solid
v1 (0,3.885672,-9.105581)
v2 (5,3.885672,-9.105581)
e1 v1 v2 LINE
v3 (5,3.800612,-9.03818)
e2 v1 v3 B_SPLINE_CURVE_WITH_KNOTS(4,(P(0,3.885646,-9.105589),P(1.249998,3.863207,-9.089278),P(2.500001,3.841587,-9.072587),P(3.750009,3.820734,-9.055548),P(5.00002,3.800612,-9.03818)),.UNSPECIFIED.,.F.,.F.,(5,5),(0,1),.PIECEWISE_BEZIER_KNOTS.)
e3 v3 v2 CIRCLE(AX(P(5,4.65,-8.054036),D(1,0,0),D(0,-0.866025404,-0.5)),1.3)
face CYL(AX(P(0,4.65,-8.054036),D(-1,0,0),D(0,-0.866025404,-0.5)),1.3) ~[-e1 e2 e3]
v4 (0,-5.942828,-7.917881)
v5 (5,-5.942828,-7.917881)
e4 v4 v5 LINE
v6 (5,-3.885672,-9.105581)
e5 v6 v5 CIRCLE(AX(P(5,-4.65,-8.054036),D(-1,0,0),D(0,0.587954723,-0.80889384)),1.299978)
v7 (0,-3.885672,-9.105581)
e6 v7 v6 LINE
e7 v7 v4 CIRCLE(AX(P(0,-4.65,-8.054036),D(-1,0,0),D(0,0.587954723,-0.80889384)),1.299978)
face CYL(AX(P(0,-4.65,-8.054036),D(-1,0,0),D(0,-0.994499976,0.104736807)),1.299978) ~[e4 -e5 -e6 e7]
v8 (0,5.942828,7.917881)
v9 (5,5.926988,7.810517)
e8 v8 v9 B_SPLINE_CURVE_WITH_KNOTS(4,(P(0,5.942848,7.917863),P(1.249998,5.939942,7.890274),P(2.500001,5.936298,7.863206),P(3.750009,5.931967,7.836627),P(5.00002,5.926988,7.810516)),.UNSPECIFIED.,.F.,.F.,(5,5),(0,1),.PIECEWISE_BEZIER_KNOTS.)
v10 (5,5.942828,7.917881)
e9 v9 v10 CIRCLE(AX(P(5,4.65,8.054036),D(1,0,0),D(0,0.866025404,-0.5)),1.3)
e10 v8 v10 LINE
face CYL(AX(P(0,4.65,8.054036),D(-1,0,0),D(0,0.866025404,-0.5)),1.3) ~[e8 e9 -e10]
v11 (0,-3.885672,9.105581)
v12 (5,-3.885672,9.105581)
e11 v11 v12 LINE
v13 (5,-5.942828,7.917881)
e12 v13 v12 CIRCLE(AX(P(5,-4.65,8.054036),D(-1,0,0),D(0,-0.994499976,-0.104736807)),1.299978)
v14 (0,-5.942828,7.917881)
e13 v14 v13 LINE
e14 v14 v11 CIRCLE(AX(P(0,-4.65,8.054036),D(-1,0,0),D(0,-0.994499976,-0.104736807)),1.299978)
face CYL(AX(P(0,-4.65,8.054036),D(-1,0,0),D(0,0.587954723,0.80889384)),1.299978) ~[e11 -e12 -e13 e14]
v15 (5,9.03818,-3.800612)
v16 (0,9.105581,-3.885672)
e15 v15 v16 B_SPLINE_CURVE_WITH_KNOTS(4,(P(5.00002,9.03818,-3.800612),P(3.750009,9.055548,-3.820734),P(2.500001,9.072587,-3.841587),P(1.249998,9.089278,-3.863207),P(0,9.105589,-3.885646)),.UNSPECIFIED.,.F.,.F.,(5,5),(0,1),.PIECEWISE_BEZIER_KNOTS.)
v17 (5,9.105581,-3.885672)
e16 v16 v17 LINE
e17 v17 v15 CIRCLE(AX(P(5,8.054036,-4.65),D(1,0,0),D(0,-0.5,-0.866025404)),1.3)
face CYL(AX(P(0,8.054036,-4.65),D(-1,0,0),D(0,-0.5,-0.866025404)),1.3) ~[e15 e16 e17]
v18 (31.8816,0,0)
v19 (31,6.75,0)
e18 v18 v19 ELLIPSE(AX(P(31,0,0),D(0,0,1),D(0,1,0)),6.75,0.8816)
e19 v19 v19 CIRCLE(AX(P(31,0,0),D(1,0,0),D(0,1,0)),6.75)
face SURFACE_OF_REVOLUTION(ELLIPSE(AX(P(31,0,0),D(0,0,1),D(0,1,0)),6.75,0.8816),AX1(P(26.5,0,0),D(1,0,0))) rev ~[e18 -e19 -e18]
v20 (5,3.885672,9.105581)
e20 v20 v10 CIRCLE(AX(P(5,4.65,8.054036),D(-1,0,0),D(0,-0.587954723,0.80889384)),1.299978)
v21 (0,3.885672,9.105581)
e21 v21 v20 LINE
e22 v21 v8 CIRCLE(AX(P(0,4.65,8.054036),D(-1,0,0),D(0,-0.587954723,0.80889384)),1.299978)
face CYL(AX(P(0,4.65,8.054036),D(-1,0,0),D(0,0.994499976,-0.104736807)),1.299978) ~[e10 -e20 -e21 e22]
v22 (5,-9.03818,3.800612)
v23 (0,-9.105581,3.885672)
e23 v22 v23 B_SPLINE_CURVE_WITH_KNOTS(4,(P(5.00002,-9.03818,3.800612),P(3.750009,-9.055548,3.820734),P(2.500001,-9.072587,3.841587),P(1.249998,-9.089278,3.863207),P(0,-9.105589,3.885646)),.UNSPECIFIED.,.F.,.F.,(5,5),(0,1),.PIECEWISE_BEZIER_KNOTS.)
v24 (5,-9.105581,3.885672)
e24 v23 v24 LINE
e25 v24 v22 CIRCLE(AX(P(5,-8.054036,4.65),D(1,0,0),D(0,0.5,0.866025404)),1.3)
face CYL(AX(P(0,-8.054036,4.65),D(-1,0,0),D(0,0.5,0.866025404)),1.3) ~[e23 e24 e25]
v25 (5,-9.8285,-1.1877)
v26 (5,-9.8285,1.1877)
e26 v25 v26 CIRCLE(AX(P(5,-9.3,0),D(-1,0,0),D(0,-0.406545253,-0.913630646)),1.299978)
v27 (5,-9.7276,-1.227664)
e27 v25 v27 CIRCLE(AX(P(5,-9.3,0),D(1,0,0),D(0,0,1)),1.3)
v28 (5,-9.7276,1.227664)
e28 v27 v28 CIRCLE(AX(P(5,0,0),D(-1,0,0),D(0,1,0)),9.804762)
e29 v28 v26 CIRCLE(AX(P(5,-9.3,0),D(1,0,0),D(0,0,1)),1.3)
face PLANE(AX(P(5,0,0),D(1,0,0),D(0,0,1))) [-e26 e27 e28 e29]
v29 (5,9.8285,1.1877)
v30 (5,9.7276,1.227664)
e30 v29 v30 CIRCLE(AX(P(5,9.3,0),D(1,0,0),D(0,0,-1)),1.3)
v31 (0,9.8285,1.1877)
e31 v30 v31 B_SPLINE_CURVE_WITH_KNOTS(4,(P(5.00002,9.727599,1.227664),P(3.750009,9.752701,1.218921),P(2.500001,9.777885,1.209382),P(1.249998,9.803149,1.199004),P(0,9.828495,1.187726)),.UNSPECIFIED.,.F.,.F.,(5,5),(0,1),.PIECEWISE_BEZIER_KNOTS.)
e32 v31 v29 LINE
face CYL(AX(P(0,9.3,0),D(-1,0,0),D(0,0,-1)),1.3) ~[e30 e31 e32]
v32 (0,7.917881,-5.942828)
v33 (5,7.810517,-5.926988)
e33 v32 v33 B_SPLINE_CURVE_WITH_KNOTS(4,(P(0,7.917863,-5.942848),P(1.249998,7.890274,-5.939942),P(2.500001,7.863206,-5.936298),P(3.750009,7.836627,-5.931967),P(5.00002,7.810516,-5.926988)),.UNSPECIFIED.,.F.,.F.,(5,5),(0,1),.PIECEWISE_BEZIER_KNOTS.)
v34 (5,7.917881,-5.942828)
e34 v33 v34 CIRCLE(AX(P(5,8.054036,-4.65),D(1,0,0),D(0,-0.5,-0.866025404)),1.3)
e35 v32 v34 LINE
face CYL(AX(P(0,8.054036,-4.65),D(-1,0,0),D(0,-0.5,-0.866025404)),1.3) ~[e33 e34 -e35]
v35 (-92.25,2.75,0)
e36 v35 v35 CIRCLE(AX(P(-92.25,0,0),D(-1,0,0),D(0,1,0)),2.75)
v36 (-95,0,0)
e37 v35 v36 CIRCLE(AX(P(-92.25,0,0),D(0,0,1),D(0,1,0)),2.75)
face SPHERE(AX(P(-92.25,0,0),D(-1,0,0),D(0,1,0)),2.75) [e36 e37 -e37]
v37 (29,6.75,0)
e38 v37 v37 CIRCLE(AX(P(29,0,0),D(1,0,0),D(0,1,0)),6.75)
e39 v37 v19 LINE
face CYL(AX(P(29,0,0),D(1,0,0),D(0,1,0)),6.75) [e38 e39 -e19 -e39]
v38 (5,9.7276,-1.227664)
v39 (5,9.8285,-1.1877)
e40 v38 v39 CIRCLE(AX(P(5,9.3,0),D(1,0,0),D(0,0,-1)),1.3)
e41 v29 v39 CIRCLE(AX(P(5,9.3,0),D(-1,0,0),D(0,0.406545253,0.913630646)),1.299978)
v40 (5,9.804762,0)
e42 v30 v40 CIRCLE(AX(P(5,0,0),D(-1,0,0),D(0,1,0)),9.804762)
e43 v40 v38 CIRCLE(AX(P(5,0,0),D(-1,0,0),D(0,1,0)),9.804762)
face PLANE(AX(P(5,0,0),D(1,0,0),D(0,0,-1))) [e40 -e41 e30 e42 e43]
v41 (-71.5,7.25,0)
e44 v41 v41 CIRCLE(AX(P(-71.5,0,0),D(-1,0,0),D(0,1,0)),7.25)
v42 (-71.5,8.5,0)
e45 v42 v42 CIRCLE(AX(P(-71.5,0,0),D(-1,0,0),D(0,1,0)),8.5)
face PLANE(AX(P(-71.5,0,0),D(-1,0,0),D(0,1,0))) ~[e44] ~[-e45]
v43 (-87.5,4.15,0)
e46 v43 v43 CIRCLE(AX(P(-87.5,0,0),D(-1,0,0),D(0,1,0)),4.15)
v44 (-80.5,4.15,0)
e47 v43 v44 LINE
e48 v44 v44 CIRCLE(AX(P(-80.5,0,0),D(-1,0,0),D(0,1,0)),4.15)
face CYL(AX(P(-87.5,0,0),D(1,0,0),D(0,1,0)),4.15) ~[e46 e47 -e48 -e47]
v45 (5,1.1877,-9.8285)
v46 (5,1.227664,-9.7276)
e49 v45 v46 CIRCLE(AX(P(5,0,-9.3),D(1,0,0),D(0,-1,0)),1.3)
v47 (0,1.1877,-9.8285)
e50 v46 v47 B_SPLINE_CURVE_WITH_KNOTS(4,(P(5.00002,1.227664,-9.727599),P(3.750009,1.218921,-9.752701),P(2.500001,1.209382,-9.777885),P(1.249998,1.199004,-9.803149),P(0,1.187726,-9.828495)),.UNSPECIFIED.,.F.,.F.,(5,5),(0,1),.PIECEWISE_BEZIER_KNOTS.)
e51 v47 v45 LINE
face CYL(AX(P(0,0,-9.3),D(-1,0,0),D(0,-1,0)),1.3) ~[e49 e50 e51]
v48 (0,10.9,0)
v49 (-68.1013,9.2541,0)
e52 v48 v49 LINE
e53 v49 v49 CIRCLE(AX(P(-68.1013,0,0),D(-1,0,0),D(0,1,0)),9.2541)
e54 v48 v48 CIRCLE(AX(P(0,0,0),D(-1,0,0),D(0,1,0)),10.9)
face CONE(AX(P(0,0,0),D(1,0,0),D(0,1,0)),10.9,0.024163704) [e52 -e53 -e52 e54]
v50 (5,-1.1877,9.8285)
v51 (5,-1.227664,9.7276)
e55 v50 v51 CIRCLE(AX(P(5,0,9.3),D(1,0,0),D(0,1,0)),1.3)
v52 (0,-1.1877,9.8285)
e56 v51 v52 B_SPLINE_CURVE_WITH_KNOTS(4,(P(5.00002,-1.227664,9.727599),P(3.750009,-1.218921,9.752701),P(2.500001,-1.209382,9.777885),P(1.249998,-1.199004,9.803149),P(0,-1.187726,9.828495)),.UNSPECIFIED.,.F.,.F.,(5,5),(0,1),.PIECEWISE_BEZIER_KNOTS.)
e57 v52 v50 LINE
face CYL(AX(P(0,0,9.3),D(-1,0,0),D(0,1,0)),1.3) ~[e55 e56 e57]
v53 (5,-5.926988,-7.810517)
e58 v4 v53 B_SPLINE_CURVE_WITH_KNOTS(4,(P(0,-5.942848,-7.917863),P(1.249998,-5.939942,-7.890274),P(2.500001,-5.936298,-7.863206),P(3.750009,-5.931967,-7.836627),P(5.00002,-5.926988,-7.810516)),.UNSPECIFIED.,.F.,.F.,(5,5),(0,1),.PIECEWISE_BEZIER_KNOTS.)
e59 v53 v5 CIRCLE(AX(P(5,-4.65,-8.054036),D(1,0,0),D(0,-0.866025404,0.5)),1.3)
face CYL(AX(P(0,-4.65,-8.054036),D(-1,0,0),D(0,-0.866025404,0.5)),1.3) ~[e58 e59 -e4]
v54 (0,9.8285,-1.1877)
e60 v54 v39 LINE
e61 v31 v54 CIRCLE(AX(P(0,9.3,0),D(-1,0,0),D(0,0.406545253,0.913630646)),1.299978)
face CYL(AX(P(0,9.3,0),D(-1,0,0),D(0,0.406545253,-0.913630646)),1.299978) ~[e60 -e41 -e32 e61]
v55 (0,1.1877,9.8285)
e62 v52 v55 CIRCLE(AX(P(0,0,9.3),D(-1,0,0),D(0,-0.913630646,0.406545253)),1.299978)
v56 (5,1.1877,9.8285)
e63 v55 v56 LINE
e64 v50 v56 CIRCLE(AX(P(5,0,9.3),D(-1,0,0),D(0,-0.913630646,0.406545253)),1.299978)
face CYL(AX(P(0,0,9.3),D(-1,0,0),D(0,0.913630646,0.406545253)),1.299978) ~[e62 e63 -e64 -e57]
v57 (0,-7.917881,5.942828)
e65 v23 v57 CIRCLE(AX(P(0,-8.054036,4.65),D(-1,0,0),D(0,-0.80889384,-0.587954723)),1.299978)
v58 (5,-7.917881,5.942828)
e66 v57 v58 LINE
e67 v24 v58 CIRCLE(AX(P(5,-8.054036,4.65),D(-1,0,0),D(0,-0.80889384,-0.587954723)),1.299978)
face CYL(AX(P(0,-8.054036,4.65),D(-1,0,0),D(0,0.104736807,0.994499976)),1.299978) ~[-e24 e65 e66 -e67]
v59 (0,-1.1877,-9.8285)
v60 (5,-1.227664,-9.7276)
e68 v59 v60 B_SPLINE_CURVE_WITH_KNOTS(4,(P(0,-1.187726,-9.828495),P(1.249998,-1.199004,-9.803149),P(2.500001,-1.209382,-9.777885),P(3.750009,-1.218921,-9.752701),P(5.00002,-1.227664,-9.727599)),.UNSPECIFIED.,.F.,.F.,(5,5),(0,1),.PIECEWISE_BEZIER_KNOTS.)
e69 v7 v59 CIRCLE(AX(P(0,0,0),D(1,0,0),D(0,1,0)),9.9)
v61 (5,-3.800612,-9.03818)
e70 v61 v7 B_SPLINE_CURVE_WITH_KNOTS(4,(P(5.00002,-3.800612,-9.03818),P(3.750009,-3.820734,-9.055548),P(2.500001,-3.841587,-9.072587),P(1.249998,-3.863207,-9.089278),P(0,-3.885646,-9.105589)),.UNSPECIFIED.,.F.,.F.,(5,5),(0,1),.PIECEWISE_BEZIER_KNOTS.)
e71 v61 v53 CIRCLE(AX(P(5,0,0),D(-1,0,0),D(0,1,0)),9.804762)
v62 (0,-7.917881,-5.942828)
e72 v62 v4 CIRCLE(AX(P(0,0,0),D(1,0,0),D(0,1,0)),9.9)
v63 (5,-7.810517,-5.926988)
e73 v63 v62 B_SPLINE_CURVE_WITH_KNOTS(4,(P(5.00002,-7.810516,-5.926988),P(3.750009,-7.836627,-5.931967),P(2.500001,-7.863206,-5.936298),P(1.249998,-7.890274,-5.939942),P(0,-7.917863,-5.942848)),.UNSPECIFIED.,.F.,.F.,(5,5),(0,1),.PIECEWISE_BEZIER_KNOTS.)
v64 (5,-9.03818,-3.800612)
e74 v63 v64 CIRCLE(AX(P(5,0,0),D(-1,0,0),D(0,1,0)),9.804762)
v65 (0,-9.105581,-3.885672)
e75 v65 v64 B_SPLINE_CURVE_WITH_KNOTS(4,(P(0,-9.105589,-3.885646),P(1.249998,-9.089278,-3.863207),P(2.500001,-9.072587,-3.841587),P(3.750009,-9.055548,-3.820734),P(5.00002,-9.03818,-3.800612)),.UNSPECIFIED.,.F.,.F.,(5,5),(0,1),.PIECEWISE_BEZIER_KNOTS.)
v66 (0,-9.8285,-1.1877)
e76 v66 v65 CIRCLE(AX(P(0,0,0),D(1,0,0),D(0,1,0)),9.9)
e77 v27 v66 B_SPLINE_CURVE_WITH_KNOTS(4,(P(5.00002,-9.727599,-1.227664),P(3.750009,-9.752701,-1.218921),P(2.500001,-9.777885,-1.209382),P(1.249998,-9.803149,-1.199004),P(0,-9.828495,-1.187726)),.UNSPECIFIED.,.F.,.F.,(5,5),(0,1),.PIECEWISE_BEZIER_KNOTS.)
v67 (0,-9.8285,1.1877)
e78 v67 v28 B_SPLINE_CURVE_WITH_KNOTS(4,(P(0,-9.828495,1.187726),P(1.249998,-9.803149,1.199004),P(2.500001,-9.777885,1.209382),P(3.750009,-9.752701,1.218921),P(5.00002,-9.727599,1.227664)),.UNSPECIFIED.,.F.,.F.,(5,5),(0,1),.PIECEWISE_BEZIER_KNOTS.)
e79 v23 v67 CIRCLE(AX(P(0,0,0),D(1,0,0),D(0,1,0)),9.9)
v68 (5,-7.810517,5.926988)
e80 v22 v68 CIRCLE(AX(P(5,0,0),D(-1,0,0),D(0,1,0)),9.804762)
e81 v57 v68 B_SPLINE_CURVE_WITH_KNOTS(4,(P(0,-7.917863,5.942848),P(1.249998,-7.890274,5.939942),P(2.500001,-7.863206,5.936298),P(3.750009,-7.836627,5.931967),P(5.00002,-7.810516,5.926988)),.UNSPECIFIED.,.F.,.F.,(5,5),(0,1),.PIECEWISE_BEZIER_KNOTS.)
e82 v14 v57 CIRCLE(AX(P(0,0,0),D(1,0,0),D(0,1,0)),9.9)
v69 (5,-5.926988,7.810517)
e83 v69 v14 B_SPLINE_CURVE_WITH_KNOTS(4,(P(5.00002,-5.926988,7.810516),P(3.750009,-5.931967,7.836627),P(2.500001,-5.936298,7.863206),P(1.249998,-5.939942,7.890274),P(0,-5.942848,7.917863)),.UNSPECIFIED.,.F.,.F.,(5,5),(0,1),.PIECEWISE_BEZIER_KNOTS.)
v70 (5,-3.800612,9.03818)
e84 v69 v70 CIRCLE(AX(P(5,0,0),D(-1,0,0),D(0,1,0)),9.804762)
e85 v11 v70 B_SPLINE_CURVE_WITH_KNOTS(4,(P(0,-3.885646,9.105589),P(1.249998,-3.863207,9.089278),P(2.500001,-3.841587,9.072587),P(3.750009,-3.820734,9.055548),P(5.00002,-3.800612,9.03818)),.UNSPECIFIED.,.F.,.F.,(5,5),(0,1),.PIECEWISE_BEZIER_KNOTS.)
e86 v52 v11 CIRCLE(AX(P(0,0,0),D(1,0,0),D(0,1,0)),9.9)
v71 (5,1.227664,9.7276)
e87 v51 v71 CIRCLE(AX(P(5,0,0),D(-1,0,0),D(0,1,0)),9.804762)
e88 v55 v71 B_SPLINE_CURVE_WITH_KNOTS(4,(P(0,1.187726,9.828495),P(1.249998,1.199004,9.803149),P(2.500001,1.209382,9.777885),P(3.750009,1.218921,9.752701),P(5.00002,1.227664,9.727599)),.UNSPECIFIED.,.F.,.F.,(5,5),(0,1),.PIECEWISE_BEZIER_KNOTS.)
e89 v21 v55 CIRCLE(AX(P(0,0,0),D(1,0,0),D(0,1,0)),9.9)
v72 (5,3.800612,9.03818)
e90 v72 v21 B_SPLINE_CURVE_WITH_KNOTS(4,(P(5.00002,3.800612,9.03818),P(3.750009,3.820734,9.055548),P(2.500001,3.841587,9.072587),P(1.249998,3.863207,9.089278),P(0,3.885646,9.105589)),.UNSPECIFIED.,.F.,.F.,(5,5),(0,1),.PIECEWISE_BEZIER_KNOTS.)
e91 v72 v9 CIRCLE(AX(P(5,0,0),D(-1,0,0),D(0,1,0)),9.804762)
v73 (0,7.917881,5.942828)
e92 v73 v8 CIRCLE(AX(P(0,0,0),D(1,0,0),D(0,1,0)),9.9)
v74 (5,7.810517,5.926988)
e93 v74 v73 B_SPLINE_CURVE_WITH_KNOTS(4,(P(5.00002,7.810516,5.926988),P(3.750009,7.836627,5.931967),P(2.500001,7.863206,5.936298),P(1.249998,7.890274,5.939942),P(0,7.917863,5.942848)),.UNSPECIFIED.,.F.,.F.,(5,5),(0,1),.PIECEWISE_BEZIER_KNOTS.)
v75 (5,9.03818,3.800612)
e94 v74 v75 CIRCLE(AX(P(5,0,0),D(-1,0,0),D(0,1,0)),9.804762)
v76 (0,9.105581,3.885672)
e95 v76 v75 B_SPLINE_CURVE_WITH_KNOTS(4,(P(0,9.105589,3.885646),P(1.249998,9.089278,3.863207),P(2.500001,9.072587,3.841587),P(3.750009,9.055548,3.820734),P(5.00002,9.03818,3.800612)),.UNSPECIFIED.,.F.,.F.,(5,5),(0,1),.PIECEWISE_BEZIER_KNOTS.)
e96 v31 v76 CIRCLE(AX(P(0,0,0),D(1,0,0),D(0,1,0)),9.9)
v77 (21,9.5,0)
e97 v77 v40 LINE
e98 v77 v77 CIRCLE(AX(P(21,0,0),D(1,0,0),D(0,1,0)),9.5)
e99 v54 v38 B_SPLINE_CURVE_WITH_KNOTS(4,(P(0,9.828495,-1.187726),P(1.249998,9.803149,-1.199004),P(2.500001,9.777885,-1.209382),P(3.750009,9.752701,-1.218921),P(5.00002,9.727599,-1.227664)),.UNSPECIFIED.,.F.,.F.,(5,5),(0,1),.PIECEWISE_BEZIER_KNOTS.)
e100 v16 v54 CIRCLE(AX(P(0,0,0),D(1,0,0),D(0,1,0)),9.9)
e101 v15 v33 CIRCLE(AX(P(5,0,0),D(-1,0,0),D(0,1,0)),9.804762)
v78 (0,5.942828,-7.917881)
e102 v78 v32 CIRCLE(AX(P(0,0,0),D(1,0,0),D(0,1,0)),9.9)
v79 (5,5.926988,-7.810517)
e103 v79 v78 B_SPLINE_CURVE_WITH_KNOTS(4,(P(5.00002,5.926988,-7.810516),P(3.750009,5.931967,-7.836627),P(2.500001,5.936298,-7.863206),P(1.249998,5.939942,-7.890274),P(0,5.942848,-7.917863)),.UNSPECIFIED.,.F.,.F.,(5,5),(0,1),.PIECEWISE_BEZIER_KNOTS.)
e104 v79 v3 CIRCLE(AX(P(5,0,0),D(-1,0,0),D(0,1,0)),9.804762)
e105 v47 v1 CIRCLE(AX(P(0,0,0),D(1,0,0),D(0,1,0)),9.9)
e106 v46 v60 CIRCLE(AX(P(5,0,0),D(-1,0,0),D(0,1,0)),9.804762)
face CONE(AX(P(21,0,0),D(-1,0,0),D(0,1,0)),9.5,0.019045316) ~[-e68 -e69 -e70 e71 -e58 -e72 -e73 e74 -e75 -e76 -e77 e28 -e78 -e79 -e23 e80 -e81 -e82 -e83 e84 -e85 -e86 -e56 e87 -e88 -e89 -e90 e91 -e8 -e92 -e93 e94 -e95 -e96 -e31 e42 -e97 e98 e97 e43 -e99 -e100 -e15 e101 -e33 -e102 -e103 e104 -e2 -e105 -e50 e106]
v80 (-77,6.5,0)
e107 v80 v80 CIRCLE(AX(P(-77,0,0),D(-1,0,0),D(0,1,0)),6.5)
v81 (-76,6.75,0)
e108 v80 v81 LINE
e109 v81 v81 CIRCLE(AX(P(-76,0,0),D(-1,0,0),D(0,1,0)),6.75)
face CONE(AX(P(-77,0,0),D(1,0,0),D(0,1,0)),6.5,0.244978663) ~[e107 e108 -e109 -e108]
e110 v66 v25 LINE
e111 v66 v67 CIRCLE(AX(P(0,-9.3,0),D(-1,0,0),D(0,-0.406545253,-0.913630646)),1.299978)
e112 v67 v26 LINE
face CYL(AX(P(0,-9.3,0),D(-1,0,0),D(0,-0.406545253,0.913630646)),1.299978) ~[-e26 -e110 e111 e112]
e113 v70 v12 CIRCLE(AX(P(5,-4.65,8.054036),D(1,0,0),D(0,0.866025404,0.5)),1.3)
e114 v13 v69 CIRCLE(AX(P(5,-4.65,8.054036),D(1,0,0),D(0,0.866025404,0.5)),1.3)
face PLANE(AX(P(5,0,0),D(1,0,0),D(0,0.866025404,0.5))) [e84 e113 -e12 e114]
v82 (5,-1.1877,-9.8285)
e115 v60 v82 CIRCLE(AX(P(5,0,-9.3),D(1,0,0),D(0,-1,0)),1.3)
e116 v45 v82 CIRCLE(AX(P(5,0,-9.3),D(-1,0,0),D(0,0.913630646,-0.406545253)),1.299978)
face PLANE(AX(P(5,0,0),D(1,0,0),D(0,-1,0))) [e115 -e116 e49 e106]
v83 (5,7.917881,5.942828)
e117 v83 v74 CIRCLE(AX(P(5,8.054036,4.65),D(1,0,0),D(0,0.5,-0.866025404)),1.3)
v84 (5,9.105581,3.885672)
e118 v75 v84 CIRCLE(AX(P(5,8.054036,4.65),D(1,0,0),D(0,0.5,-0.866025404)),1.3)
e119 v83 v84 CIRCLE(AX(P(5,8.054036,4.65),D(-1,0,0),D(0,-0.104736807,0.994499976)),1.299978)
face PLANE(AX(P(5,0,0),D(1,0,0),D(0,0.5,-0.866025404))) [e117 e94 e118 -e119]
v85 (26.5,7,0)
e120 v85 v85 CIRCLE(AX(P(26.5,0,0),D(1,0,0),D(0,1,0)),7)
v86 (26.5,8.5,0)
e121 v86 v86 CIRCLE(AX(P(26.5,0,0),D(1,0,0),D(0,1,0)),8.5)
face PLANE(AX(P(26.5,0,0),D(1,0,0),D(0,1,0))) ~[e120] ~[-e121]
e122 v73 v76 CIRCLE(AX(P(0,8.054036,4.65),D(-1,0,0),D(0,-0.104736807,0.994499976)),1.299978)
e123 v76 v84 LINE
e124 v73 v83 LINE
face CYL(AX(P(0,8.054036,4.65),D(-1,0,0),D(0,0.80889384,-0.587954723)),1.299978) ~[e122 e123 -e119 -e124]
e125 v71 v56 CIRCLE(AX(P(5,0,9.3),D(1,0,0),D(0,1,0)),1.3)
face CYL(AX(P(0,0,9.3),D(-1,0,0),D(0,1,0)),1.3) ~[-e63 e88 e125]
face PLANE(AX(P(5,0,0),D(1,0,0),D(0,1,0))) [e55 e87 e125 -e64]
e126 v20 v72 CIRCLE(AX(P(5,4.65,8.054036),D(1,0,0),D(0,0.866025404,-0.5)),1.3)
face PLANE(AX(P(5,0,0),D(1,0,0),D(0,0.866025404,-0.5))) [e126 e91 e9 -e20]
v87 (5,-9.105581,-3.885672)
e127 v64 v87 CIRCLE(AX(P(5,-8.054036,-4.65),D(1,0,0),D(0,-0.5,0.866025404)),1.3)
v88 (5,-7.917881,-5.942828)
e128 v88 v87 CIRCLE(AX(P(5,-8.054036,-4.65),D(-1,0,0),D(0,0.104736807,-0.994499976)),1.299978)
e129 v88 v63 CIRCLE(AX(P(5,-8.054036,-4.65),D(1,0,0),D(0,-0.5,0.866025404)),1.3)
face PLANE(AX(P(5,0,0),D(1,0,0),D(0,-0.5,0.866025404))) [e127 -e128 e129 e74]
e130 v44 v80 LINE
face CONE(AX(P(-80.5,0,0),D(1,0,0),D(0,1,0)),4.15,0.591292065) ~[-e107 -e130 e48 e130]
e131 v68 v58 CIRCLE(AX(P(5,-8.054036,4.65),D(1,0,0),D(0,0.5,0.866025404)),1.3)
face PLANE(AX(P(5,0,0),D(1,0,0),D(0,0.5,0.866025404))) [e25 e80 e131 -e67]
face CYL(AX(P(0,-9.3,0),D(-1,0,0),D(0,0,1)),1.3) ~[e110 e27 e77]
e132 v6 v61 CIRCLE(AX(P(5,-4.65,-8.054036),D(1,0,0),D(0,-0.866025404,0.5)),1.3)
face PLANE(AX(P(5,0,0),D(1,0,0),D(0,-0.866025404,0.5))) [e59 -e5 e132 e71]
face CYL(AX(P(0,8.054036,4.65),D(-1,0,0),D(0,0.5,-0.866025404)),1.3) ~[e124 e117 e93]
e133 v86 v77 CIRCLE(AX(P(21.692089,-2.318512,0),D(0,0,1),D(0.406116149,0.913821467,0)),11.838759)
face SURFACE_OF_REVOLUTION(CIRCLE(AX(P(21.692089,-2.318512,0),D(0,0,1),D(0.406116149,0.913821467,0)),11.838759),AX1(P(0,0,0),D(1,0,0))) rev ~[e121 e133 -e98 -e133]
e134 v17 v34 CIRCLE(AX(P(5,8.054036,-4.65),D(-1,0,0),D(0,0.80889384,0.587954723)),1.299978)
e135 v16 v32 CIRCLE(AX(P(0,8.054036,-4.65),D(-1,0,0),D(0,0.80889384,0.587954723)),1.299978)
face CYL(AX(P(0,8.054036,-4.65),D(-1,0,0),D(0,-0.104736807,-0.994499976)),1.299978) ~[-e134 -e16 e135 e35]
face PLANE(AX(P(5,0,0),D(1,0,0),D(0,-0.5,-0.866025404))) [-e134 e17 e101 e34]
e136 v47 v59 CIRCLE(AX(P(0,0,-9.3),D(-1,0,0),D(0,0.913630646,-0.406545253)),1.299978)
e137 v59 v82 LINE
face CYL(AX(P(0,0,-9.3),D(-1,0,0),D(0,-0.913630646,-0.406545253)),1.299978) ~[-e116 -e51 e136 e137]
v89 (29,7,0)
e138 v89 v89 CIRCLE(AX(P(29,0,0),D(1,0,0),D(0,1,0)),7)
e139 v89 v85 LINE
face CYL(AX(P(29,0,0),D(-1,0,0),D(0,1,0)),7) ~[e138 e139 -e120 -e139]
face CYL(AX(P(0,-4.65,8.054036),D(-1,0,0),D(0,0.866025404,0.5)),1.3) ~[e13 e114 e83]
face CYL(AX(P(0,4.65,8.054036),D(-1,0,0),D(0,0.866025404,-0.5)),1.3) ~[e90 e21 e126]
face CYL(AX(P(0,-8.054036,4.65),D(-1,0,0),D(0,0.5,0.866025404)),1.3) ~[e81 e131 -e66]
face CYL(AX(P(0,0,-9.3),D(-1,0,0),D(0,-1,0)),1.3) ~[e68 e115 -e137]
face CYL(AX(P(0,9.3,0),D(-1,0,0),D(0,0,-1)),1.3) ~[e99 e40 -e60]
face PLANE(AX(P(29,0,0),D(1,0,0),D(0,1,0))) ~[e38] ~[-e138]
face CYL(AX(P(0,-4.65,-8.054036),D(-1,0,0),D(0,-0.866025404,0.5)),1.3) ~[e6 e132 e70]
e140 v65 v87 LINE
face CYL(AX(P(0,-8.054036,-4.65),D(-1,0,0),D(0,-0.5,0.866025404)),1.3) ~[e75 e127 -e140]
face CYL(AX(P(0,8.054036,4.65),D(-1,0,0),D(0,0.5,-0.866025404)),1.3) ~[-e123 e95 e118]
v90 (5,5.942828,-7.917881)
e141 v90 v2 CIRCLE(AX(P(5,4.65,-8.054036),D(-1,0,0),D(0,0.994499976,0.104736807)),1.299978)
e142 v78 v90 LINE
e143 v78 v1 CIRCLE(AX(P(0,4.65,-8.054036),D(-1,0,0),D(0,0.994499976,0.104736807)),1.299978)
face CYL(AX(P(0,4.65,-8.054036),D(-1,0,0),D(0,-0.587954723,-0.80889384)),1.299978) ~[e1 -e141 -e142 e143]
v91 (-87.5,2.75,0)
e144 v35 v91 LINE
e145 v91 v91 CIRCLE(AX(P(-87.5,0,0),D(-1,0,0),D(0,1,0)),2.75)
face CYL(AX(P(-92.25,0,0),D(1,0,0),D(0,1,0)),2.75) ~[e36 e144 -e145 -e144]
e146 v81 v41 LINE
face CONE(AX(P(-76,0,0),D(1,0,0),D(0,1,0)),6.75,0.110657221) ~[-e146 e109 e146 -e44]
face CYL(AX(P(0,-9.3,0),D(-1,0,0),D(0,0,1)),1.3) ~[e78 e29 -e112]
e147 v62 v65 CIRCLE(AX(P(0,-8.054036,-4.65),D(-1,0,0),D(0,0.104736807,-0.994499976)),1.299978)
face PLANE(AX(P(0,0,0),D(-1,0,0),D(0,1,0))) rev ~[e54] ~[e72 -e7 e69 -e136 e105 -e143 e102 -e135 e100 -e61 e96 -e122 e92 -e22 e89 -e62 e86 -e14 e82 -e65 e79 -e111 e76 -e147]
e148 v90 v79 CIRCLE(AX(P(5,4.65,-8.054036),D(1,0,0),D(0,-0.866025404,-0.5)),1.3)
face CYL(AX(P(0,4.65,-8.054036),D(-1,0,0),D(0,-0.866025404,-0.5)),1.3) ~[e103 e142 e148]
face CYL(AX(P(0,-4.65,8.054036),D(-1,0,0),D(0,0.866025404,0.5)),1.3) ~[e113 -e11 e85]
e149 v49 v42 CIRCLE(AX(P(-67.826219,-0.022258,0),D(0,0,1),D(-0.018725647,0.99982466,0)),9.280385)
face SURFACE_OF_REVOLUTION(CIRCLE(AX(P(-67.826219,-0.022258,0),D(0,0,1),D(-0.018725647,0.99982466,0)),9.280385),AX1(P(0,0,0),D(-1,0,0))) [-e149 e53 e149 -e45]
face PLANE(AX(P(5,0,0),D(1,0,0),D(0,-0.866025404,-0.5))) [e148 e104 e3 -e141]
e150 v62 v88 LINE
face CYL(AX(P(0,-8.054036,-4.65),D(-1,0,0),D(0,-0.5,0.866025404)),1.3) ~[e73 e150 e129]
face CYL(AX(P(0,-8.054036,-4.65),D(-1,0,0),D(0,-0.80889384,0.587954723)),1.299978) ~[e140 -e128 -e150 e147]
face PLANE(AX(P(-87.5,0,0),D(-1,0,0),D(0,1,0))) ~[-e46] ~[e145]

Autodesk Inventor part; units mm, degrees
ref_plane "YZ Plane" through (0, 0, 0) normal (1, 0, 0) x (0, 1, 0)
ref_plane "XZ Plane" through (0, 0, 0) normal (0, 1, 0) x (-1, 0, 0)
ref_plane "XY Plane" through (0, 0, 0) normal (0, 0, 1) x (1, 0, 0)
sketch "Boceto1" plane through (0, 0, 0) normal (0, 0, 1) x (1, 0, 0)
  line L0 (-103.5851, 10.8479) -> (31.8816, 10.8479) construction
  line L1 (31.8816, 10.8479) -> (31.8816, -10.8479) construction
  line L2 (31.8816, -10.8479) -> (-103.5851, -10.8479) construction
  line L3 (-103.5851, -10.8479) -> (-103.5851, 10.8479) construction
  line L4 (0, 0) -> (-71.5, 0)
  line L5 (0, 10.9) -> (0, 0)
  line L6 (-68.2708, 0) -> (0, 0)
  line L7 (0, 10.9) -> (-68.1013, 9.2541)
  line L8 (-71.5, 0) -> (-56.9274, 0) construction
  line L9 (-71.5, 0) -> (-71.5, 8.5)
  line L10 (-71.5, 0) -> (-68, 0)
  line L11 (-68, 0) -> (-68, 9.2565)
  arc A0 (-68, 9.2565) -> (-71.5, 8.5) centre (-67.8264, -0.0207) ccw
  line L12 (-68, 9.2565) -> (0, 10.9)
  line L13 (0, 0) -> (26.5, 0)
  line L14 (26.5, 0) -> (26.5, 7)
  line L15 (0, 0) -> (0, 9.9)
  line L16 (0, 0) -> (21, 0)
  line L17 (21, 0) -> (21, 9.5)
  line L18 (21, 9.5) -> (0, 9.9)
  line L19 (26.5, 0) -> (26.5, 8.5)
  arc A1 (26.5, 8.5) -> (21, 9.5) centre (21.692, -2.3188) ccw
  line L20 (26.5, 0) -> (29, 0)
  line L21 (29, 0) -> (29, 7)
  line L22 (29, 7) -> (26.5, 7)
  line L23 (29, 0) -> (29, 6.75)
  line L24 (29, 6.75) -> (31, 6.75)
  line L25 (31.8816, 6.75) -> (31.8816, 0)
  line L26 (31.8816, 0) -> (29, 0)
  line L27 (29, 0) -> (29, 6.75)
  line L28 (29, 6.75) -> (31, 6.75)
  line L29 (29, 0) -> (31, 0)
  ellipse E0 centre (31, 0) end of major axis (31, 6.75) minor radius 0.8816 (30.1184, 0) -> (31, 6.75) ccw
  ellipse E1 centre (31, 0) end of major axis (31, 6.75) minor radius 0.8816 (31, 6.75) -> (30.1184, 0) ccw
  line L30 (31, 6.75) -> (31.8816, 6.75)
  line L31 (-71.5, 0) -> (-71.5, 7.25)
  line L32 (-71.5, 0) -> (-67, 0)
  line L33 (-71.5, 0) -> (-76, 0)
  line L34 (-76, 0) -> (-76, 6.75)
  line L35 (-76, 6.75) -> (-71.5, 7.25)
  line L36 (-76, 0) -> (-77, 0)
  line L37 (-77, 0) -> (-77, 6.5)
  line L38 (-77, 6.5) -> (-76, 6.75)
  line L39 (-77, 0) -> (-80.5, 0)
  line L40 (-80.5, 0) -> (-80.5, 4.15)
  line L41 (-80.5, 4.15) -> (-77, 6.5)
  line L42 (-80.5, 0) -> (-87.5, 0)
  line L43 (-87.5, 0) -> (-87.5, 4.15)
  line L44 (-87.5, 4.15) -> (-80.5, 4.15)
  line L45 (-80.5, 4.15) -> (-80.5, 0)
  line L46 (-87.5, 0) -> (-95, 0)
  line L47 (-95, 0) -> (-95, 0)
  line L48 (-92.25, 2.75) -> (-87.5, 2.75)
  line L49 (-87.5, 2.75) -> (-87.5, 0)
  arc A2 (-92.25, 2.75) -> (-95, 0) centre (-92.25, 0) ccw
  point P0 (67.7333, -10.8479)
  point P1 (103.6012, -10.8479)
  point P2 (35.8517, 0)
  point P3 (7, 16)
  point P4 (-95, 2.75)
  dimension "d16" = 71.5
  dimension "d27" = 8.5
  dimension "d29" = 3.5
  dimension "d42" = 26.5
  dimension "d43" = 7
  dimension "d45" = 9.9
  dimension "d46" = 21
  dimension "d47" = 9.5
  dimension "d48" = 8.5
  dimension "d55" = 2.5
  dimension "d56" = 6.75
  dimension "d59" = 2
  dimension "d60" = 2
  dimension "d63" = 7.25
  dimension "d64" = 4.5
  dimension "d65" = 4.5
  dimension "d66" = 6.75
  dimension "d67" = 1
  dimension "d68" = 6.5
  dimension "d69" = 3.5
  dimension "d70" = 4.15
  dimension "d71" = 7
  dimension "d72" = 7.5
  dimension "d73" = 2.75
  dimension "d74" = 2.75
revolve "Revolución1" add sketch "Boceto1" angle 360 about axis through (0, 0, 0) along (-1, 0, 0) contours L4 L11 L7 L5 | L4 L9 A0 L7 L11
sketch "Boceto2" plane through (0, 0, 0) normal (1, 0, 0) x (0, 0, -1)
  arc A0 (1.1877, 9.8285) -> (-1.1877, 9.8285) centre (0, 0) ccw
  line L0 (0, 9.9) -> (0, 10.6)
  line L1 (0, 10.6) -> (0, 9.3)
  arc A1 (1.1877, 9.8285) -> (-1.1877, 9.8285) centre (0, 9.3) ccw
  arc A2 (-1.1877, 9.8285) -> (1.1877, 9.8285) centre (0, 0) ccw
  circle A3 centre (0, 9.3) radius 1.3
  point P0 (-1.1877, 9.8285)
  point P1 (1.1877, 9.8285)
  dimension "d38" = 19.8
  dimension "d39" = 0.7
  dimension "d40" = 1.3
revolve "Revolución2" add sketch "Boceto1" angle 360 about axis through (0, 0, 0) along (1, 0, 0) contours L5 L18 L17 L13 | L17 A1 L19 L14 L13
extrude "Extrusión1" add sketch "Boceto2" along normal blind 5 contours A3 A0 | A0 L0 A1 | A0 A1 L0
pattern_circular "Patrón circular1" count 12 over 360 about axis through (-10, 0, 0) along (1, 0, 0) of "Extrusión1"
revolve "Revolución3" add sketch "Boceto1" angle 360 about axis through (26.5, 0, 0) along (1, 0, 0) contours L14 L22 L21 L20 | L21 L24 E1 L26 | E1 E0 L26
revolve "Revolución4" add sketch "Boceto1" angle 360 about axis through (-80.5, 0, 0) along (-1, 0, 0) contours L33 L34 L35 L9 | L36 L37 L38 L34 | L39 L40 L41 L37 | L42 L43 L44 L40
revolve "Revolución5" add sketch "Boceto1" angle 360 about axis through (-87.5, 0, 0) along (-1, 0, 0) contours L46 A2 L48 L43
properties part number "marcador" material "Marcador Plastico"
